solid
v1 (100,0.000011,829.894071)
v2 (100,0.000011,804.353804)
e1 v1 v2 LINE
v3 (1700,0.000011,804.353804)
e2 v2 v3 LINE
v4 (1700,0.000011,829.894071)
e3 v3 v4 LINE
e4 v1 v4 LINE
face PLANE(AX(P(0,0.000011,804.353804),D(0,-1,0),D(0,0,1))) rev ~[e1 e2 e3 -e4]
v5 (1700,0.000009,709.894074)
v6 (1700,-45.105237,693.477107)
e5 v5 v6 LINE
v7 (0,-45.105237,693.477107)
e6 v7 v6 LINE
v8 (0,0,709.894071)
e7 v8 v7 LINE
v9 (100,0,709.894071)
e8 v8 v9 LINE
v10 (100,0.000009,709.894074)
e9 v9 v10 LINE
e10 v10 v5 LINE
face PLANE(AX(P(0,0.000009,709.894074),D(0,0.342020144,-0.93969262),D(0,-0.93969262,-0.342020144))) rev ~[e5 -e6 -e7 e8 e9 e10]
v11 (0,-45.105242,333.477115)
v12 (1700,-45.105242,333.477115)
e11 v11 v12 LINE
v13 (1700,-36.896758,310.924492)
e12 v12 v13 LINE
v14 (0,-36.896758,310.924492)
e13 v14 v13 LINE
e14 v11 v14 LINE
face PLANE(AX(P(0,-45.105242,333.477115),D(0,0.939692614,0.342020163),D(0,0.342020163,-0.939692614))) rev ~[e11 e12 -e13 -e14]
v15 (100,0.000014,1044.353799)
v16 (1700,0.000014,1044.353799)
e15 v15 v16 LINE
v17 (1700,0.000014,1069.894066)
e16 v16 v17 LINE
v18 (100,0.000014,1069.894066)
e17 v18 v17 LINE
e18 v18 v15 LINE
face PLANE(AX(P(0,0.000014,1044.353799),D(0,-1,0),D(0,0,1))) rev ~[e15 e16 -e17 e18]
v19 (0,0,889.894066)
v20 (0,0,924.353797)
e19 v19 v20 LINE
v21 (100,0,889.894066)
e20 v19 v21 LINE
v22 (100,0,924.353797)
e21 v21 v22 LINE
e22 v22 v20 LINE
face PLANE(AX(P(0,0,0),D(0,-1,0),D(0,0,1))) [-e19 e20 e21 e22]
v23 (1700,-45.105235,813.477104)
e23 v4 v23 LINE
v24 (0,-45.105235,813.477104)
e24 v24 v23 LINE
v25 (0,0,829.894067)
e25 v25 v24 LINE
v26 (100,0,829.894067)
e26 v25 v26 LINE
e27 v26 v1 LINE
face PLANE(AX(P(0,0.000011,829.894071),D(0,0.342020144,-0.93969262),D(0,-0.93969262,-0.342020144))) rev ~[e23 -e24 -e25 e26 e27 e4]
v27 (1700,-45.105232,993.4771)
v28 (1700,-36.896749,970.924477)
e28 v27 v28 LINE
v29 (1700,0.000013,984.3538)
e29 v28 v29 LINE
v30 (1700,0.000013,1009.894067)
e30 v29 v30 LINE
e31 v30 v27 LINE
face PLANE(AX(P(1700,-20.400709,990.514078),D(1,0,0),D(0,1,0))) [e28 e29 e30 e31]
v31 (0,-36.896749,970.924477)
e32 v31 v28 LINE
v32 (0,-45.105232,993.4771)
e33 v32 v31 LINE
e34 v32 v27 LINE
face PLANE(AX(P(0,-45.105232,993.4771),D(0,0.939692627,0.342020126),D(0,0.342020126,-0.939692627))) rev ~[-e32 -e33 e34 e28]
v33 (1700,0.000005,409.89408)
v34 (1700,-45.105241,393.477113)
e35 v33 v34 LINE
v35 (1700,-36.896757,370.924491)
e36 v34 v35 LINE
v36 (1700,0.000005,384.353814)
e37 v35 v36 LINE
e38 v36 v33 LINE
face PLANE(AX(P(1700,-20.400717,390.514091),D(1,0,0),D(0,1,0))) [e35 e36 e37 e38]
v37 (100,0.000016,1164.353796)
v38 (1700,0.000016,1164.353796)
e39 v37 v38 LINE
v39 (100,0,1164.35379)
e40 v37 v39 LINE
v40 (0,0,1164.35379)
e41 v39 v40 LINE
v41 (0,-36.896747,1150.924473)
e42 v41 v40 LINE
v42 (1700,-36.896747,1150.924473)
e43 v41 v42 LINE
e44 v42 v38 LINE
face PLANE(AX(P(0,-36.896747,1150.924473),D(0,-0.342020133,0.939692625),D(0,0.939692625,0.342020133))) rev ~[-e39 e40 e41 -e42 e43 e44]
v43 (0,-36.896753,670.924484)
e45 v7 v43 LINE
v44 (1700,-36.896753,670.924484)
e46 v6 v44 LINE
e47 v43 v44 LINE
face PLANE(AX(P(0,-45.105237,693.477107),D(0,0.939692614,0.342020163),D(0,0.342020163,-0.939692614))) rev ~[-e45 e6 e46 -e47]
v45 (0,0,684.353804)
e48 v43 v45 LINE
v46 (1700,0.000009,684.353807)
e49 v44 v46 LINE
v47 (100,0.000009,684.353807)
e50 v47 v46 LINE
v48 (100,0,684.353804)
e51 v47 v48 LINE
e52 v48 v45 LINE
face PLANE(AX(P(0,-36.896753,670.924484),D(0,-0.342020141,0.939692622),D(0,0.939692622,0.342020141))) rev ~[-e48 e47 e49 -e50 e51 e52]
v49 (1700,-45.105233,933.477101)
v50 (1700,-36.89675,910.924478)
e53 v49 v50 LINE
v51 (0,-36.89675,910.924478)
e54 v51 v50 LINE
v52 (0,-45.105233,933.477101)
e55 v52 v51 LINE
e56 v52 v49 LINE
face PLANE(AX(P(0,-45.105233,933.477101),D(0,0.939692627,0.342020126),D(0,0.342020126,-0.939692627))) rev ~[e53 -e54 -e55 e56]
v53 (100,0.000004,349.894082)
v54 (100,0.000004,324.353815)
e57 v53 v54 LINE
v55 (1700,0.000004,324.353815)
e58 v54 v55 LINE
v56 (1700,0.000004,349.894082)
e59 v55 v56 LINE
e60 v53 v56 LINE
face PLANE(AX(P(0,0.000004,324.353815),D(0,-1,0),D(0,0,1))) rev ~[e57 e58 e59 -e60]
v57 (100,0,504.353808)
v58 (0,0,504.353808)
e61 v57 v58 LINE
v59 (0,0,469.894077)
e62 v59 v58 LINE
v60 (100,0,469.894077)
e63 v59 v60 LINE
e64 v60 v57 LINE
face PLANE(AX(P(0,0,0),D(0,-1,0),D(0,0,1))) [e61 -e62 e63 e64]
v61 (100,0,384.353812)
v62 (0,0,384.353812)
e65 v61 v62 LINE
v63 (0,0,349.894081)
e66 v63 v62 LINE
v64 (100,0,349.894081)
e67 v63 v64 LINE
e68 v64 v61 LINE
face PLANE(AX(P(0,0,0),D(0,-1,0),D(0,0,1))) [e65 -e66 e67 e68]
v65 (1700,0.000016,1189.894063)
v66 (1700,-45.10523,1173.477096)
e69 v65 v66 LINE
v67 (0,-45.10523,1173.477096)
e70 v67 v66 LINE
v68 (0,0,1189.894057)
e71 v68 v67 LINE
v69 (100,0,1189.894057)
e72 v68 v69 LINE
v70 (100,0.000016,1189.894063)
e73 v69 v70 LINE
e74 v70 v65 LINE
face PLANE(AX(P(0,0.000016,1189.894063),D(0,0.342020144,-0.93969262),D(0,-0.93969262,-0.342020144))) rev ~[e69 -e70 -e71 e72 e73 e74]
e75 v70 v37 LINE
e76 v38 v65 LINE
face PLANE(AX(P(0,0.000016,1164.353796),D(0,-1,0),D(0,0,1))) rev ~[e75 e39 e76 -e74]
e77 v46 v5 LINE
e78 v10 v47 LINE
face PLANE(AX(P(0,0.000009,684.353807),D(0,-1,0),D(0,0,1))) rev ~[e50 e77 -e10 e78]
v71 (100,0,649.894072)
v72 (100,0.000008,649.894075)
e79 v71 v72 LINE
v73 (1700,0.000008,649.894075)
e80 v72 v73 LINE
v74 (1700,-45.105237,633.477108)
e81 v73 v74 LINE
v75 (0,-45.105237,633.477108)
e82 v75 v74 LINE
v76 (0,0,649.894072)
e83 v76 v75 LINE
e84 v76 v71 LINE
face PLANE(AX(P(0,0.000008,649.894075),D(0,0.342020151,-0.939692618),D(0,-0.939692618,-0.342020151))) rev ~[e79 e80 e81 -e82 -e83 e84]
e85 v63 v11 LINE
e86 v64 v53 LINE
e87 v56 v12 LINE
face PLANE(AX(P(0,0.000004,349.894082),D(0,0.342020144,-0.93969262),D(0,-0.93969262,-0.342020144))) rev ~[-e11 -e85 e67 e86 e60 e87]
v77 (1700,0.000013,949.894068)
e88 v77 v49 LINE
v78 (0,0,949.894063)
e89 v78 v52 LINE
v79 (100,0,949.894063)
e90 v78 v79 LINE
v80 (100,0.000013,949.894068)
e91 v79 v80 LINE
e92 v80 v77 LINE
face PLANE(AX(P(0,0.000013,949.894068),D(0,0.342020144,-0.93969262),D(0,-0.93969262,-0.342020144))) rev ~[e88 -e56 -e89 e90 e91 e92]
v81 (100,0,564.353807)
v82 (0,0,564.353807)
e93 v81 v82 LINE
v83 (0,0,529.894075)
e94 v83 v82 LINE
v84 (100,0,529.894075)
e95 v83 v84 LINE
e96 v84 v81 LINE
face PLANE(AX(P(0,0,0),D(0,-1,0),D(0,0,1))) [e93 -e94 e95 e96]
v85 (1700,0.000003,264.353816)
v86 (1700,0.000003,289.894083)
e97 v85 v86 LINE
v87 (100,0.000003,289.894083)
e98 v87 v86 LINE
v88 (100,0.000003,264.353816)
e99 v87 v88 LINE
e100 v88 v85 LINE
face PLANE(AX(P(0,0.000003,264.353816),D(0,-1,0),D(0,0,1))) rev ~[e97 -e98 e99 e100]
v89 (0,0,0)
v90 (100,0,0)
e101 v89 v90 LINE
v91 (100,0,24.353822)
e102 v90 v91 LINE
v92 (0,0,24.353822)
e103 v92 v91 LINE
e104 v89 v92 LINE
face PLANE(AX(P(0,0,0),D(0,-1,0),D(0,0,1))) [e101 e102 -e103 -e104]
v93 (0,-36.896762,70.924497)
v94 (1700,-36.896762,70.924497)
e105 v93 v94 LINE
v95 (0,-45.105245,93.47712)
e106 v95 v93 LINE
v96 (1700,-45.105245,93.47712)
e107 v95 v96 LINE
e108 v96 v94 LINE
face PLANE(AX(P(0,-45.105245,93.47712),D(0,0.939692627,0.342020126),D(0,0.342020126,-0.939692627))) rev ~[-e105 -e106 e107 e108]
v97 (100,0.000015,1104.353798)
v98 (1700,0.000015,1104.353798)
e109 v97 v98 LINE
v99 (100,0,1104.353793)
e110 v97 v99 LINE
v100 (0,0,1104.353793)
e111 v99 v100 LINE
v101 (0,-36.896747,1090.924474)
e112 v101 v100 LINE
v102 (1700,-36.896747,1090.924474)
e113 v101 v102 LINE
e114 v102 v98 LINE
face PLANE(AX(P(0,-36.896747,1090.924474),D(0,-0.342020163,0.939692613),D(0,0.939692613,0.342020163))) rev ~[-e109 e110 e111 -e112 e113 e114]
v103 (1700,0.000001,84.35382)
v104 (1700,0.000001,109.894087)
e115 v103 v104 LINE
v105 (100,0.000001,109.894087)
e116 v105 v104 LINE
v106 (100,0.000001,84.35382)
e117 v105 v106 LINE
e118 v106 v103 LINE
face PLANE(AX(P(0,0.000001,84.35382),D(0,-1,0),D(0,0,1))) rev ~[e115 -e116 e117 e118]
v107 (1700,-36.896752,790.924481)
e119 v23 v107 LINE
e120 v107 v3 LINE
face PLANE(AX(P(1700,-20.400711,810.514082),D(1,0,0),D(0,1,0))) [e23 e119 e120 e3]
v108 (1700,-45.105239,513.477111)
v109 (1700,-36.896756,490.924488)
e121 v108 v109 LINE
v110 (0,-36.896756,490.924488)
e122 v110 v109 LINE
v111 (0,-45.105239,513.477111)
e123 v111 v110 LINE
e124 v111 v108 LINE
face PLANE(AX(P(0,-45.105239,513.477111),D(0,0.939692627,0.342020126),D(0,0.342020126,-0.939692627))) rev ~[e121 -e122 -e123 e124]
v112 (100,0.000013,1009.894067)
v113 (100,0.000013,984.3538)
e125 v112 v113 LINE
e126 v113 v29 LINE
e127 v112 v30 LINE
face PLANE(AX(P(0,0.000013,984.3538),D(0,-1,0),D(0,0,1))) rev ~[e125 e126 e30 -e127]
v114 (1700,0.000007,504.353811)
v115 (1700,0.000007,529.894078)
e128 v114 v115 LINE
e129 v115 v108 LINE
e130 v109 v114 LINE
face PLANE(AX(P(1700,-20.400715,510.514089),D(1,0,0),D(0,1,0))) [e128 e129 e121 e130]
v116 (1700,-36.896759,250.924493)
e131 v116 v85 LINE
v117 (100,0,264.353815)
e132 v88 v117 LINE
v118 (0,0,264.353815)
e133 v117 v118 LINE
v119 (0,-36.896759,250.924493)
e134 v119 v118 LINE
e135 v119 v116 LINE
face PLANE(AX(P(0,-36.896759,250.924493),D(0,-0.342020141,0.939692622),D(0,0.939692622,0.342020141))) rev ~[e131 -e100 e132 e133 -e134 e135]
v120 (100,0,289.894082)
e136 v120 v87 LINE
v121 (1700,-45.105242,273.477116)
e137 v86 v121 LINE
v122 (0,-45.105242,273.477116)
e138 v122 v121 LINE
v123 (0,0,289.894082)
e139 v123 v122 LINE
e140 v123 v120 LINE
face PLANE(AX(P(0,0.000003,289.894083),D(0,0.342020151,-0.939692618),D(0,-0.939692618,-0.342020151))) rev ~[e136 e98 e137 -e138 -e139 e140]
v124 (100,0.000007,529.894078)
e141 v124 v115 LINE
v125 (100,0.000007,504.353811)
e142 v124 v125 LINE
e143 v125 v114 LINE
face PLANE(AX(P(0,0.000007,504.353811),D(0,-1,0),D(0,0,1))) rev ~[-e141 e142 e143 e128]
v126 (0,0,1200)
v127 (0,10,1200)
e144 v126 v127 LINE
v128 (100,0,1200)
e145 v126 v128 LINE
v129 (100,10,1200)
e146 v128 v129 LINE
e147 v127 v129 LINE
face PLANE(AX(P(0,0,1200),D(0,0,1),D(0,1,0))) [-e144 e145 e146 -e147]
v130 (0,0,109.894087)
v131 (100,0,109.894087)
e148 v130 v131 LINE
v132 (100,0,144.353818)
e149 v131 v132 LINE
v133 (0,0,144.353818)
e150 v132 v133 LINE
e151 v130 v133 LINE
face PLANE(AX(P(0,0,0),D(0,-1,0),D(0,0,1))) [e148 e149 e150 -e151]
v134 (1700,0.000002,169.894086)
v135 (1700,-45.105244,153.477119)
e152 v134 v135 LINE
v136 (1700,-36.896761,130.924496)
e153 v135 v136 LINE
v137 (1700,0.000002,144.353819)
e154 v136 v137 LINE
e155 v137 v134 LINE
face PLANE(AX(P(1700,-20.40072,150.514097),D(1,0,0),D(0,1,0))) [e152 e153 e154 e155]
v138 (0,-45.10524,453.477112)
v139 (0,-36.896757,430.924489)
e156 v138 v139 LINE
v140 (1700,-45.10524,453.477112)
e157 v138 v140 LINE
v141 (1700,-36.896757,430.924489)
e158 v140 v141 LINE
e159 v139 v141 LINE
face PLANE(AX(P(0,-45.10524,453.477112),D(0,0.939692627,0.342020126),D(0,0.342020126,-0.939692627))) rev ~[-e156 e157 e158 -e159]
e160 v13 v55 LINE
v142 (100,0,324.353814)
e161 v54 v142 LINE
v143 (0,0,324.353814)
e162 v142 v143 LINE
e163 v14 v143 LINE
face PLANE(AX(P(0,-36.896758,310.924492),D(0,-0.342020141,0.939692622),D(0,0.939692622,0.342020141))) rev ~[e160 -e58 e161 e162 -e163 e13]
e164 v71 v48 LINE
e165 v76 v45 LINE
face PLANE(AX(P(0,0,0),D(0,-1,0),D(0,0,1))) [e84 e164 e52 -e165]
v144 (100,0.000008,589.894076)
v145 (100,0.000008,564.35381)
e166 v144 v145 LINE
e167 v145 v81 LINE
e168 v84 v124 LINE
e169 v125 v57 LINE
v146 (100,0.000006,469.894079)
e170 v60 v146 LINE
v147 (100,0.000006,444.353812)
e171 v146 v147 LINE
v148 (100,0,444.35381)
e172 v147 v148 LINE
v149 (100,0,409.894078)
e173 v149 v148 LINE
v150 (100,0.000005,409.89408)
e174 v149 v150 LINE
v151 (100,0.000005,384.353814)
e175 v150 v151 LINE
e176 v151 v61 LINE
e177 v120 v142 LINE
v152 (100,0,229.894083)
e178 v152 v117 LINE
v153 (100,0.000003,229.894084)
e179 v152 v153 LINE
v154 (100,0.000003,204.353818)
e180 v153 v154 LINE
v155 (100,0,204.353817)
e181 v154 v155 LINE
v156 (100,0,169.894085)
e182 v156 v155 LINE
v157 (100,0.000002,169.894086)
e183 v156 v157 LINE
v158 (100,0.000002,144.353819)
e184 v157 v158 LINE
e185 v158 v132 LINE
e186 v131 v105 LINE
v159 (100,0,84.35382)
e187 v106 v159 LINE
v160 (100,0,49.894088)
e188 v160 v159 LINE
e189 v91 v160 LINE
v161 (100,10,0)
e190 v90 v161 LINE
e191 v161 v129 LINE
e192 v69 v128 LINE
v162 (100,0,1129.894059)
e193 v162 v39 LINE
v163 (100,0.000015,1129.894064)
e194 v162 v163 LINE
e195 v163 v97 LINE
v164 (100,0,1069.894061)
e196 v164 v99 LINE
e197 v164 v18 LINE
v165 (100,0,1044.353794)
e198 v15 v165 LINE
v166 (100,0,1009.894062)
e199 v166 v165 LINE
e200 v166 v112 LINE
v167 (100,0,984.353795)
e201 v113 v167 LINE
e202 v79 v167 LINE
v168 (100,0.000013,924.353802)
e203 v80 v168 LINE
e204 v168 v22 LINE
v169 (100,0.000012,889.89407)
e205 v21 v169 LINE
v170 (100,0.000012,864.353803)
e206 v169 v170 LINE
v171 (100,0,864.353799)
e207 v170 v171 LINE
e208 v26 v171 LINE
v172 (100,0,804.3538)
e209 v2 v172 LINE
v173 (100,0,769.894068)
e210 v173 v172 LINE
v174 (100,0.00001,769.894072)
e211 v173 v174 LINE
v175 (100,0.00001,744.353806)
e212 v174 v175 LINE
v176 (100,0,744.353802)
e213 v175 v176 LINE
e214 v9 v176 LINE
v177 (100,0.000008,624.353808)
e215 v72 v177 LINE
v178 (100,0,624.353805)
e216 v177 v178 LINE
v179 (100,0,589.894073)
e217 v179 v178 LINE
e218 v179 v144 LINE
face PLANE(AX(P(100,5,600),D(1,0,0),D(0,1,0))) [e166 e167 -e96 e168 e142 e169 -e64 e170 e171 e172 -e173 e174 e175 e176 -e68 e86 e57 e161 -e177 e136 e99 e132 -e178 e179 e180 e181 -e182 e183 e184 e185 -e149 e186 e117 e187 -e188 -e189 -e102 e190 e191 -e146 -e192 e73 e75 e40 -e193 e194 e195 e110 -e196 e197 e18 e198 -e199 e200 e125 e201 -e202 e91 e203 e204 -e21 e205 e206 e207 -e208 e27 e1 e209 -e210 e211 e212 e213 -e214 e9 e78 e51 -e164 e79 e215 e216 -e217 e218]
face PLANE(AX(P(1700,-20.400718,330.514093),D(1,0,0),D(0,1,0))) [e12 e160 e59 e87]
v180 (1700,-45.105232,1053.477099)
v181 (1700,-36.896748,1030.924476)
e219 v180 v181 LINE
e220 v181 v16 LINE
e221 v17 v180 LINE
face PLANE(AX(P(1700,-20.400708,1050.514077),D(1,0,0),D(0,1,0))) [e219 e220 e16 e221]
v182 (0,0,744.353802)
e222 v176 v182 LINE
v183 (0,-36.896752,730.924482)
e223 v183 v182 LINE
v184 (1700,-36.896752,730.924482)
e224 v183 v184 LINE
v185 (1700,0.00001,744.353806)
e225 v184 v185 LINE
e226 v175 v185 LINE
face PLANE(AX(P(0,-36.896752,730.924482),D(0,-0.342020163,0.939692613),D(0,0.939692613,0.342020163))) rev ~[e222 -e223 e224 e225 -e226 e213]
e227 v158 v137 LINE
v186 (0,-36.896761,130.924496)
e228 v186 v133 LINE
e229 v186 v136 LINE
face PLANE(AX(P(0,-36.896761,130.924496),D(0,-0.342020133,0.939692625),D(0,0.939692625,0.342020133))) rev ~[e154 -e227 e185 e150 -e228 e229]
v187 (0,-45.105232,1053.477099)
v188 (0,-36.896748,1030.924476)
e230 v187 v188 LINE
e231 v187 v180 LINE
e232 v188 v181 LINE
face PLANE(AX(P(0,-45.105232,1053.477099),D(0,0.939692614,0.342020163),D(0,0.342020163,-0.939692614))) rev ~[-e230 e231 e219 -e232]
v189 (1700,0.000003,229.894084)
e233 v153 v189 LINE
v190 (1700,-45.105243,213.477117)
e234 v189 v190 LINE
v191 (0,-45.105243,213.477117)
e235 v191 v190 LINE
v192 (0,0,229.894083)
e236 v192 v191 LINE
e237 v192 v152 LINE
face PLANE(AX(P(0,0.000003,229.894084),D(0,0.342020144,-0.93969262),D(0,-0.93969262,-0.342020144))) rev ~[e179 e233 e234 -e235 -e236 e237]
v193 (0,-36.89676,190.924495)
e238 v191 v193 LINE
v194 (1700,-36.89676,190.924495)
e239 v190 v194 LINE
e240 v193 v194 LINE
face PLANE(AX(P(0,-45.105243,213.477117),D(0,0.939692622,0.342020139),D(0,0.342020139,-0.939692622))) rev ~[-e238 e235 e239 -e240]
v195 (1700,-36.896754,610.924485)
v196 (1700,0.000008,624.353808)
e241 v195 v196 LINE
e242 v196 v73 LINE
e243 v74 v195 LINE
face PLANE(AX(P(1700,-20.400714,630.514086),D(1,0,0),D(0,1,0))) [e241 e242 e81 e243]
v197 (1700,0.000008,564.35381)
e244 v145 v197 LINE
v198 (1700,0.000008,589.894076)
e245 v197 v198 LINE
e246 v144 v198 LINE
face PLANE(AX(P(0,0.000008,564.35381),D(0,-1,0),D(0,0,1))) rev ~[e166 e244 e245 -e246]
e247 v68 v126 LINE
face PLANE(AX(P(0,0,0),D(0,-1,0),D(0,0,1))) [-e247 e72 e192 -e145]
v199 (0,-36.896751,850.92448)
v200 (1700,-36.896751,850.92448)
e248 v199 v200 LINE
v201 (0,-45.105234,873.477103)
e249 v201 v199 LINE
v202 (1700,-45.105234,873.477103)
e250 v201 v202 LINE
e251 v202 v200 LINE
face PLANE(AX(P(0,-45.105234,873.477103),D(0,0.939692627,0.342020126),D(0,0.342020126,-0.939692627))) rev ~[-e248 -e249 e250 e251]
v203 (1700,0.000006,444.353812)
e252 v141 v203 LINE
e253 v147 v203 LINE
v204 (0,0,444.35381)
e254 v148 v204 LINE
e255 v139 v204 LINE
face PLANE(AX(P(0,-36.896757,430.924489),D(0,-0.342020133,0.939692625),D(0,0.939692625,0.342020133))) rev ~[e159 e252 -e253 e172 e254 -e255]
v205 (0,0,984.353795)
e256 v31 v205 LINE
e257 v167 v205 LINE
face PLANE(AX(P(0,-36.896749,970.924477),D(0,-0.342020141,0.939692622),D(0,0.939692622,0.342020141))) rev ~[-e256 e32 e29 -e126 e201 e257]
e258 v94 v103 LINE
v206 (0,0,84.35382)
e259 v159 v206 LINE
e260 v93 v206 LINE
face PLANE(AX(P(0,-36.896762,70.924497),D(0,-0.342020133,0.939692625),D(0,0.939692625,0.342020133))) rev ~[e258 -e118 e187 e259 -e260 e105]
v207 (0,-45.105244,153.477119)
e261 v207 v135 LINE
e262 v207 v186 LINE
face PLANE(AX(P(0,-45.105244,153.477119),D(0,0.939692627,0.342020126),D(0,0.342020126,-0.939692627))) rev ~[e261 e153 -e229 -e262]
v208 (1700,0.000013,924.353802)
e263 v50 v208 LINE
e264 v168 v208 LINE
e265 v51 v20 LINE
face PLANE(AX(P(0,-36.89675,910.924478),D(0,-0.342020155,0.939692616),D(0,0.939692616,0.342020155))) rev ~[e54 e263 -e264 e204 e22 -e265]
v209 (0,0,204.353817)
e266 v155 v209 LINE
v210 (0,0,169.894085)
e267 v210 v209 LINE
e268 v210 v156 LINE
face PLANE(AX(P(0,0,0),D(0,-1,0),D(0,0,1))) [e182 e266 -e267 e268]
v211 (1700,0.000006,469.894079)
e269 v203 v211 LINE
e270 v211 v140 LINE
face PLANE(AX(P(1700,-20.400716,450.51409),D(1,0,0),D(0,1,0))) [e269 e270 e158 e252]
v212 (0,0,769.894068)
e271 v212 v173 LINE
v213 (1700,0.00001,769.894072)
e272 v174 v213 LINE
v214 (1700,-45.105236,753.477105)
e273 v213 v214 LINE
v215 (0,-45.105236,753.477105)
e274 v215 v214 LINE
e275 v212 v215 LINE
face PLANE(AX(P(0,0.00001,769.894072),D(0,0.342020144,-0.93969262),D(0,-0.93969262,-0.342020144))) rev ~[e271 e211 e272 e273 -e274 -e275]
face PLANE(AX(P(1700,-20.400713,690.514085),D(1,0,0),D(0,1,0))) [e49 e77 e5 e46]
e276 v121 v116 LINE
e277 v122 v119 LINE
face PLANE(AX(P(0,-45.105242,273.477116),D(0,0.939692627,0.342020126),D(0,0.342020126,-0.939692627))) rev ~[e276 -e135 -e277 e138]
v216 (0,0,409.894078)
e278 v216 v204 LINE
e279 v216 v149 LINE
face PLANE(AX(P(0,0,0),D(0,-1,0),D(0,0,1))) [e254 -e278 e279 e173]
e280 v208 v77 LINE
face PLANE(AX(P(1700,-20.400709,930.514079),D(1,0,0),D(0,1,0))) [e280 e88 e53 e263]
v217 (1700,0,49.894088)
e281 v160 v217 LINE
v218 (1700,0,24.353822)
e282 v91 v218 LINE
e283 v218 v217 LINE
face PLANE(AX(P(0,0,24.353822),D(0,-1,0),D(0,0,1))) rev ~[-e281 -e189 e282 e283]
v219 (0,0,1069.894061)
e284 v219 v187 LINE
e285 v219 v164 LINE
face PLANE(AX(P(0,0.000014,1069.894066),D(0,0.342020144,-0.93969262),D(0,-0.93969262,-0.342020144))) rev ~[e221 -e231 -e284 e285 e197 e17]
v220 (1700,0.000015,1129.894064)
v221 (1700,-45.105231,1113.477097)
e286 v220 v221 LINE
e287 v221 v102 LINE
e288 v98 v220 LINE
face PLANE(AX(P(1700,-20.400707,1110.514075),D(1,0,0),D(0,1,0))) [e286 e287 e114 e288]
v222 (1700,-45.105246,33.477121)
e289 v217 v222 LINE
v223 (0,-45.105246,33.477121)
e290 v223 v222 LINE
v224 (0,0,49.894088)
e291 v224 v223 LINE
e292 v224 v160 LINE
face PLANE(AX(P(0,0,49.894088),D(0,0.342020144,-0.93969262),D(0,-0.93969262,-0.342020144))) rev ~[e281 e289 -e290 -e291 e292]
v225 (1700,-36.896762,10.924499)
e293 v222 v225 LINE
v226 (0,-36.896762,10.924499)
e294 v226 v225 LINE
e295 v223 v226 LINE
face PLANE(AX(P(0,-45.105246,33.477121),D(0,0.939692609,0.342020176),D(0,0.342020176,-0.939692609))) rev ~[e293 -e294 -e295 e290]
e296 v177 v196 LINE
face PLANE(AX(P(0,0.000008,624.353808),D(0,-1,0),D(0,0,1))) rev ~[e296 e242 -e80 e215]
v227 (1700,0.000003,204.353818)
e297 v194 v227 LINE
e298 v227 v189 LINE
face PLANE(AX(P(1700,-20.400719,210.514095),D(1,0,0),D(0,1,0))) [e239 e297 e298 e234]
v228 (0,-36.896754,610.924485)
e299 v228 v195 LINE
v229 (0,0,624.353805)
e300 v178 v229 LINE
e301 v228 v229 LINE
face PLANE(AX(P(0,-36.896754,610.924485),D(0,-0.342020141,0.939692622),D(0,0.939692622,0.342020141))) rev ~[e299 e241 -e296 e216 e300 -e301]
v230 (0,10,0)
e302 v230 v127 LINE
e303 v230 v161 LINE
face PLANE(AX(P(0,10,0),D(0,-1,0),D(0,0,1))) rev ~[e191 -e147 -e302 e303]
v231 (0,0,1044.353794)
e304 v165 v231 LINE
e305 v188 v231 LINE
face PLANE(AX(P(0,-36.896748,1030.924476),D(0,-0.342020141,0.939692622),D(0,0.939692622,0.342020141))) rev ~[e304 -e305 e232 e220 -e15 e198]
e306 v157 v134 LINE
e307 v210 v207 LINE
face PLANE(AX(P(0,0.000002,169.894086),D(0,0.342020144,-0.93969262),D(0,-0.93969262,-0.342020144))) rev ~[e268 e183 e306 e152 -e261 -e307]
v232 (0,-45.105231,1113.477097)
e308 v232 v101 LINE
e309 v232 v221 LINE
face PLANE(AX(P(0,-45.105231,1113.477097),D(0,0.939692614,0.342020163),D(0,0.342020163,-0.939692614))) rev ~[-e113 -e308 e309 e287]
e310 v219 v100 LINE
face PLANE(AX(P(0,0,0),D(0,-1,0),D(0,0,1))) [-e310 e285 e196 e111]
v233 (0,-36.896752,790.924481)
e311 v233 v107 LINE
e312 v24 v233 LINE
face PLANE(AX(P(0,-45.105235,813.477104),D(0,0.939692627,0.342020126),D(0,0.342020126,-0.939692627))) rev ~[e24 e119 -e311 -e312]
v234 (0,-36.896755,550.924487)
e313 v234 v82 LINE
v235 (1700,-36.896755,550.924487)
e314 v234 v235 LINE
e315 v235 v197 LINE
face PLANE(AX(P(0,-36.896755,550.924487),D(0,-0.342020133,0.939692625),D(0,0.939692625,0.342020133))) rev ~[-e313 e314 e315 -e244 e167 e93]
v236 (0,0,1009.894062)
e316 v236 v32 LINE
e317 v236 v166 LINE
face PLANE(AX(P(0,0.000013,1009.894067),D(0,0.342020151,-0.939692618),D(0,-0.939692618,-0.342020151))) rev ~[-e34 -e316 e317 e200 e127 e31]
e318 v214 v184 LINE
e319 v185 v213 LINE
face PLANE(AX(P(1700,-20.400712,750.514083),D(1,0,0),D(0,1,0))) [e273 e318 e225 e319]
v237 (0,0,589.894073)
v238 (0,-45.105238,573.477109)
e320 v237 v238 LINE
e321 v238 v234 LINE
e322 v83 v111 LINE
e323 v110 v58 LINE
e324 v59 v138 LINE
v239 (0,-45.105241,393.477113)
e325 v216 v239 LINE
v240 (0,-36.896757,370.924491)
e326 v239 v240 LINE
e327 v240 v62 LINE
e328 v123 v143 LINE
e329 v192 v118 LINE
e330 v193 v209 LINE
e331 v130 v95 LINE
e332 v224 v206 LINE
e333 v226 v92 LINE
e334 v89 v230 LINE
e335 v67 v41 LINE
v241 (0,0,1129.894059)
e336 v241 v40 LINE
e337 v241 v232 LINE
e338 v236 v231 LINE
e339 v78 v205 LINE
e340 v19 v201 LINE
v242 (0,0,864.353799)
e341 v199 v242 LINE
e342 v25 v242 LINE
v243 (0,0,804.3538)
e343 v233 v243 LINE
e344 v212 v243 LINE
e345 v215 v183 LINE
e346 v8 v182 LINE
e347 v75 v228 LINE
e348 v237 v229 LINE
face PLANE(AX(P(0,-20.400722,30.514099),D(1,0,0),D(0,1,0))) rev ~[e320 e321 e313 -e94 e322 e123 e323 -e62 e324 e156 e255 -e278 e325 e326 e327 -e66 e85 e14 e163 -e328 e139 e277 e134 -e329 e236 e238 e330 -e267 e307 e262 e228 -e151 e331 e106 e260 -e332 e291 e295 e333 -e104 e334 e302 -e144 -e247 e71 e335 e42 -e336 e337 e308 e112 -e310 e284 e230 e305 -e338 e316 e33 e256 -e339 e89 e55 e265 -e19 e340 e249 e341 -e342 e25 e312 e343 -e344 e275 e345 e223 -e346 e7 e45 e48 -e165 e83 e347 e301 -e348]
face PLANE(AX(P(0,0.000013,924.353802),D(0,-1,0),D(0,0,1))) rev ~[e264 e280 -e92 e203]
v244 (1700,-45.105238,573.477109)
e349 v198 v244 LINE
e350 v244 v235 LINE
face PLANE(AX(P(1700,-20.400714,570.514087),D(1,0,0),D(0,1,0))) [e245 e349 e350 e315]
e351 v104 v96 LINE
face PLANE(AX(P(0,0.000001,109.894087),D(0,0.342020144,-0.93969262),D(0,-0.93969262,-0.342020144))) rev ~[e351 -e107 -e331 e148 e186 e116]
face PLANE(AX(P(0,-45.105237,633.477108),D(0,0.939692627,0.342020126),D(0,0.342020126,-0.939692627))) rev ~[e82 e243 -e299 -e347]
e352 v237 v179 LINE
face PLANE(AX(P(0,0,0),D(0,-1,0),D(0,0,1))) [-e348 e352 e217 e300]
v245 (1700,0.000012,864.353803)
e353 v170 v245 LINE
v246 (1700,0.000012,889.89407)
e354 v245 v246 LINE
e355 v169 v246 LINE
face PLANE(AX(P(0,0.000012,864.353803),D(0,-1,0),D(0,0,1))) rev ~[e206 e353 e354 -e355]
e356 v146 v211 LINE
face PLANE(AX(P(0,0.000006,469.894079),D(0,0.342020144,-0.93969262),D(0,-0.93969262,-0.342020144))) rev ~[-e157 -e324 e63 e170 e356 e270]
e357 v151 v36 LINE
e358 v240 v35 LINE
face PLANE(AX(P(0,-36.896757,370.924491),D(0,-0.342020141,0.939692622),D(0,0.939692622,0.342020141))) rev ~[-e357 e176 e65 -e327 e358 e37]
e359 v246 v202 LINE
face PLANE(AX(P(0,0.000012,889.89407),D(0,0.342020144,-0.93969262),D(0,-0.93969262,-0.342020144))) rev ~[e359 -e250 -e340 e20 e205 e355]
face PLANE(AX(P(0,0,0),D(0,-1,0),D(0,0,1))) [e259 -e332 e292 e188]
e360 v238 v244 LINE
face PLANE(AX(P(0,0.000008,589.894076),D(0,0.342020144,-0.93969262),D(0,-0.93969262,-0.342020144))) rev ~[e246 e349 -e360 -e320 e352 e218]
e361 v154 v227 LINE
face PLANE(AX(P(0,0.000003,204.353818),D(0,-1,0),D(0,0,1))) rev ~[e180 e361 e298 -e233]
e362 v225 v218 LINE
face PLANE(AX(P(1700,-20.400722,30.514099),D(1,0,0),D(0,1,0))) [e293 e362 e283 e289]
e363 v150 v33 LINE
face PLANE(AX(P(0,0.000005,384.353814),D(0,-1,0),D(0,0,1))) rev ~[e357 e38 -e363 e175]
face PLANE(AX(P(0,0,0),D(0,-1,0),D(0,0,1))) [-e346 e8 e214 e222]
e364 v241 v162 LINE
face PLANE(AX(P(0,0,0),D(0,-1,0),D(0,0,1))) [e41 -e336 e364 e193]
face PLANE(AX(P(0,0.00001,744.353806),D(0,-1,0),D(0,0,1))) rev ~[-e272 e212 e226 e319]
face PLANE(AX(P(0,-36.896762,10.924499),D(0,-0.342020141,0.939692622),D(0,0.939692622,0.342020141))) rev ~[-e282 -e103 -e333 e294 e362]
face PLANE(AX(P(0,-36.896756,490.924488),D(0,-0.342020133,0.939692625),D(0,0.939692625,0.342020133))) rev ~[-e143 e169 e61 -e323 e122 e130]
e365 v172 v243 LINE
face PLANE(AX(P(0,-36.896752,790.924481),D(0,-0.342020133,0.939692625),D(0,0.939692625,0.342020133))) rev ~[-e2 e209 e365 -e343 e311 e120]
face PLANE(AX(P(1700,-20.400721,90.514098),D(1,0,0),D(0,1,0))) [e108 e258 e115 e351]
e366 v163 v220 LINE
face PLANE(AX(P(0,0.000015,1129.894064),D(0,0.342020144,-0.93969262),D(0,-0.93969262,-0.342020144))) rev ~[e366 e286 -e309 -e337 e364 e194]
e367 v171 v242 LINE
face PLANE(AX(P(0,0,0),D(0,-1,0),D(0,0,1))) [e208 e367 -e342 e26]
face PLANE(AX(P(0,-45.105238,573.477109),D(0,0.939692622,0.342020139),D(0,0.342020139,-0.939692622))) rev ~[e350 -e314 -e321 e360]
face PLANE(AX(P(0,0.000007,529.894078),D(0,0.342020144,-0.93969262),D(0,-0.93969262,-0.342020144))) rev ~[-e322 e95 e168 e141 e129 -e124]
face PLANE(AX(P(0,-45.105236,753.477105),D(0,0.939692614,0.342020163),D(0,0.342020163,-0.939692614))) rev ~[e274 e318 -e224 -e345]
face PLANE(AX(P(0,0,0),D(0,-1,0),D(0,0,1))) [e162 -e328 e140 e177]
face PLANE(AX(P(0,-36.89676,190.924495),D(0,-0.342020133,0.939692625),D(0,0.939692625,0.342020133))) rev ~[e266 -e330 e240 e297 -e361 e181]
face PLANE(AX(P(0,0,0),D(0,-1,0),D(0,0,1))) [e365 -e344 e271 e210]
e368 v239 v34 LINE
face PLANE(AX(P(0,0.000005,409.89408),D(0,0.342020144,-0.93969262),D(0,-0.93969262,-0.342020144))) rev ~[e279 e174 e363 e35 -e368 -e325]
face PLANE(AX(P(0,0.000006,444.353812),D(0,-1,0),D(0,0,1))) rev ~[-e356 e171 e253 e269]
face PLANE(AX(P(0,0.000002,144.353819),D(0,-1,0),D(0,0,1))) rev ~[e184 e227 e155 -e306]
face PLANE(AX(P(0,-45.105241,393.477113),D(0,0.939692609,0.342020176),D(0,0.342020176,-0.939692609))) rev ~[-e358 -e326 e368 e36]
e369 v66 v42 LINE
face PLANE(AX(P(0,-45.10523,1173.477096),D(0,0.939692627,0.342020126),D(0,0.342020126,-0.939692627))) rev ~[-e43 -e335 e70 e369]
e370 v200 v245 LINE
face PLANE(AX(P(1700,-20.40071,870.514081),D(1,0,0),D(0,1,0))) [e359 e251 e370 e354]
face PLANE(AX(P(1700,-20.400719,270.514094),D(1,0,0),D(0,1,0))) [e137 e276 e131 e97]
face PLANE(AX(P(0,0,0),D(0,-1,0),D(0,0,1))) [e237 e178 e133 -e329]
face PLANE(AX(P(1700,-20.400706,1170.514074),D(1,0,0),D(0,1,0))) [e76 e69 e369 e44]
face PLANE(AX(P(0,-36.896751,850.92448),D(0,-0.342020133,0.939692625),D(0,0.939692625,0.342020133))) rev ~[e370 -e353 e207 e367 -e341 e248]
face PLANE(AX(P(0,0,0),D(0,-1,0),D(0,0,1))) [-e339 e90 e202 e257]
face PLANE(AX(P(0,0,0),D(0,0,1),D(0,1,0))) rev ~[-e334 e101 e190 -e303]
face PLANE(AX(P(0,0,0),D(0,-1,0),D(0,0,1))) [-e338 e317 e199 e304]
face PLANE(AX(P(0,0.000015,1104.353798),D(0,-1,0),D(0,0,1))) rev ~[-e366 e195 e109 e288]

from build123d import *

# Parameters (mm, degrees)
F0_W     = 10
F0_H     = 1200
F1_DEPTH = 100
F3_DEPTH = 1700


with BuildPart() as f1:
    # F0 (on Right) → F1 (new body)
    with BuildSketch(Plane.YZ):
        with Locations((5, 600)):
            Rectangle(F0_W, F0_H)
    extrude(amount=F1_DEPTH)

    # F2 (on Right) → F3 (join)
    with BuildSketch(Plane.YZ):
        Polygon((0, 24.353822), (0, 49.894088), (-45.105246, 33.477121), (-36.896762, 10.924499), align=None)
        Polygon((-45.105245, 93.47712), (-36.896762, 70.924497), (1e-06, 84.35382), (1e-06, 109.894087), align=None)
        Polygon((-45.105244, 153.477119), (-36.896761, 130.924496), (2e-06, 144.353819), (2e-06, 169.894086), align=None)
        Polygon((-45.105243, 213.477117), (-36.89676, 190.924495), (3e-06, 204.353818), (3e-06, 229.894084), align=None)
        Polygon((-45.105242, 273.477116), (-36.896759, 250.924493), (3e-06, 264.353816), (3e-06, 289.894083), align=None)
        Polygon((-45.105241, 393.477113), (-36.896757, 370.924491), (5e-06, 384.353814), (5e-06, 409.89408), align=None)
        Polygon((-45.10524, 453.477112), (-36.896757, 430.924489), (6e-06, 444.353812), (6e-06, 469.894079), align=None)
        Polygon((-45.105242, 333.477115), (-36.896758, 310.924492), (4e-06, 324.353815), (4e-06, 349.894082), align=None)
        Polygon((-45.105239, 513.477111), (-36.896756, 490.924488), (7e-06, 504.353811), (7e-06, 529.894078), align=None)
        Polygon((-45.105237, 633.477108), (-36.896754, 610.924485), (8e-06, 624.353808), (8e-06, 649.894075), align=None)
        Polygon((-45.105238, 573.477109), (-36.896755, 550.924487), (8e-06, 564.35381), (8e-06, 589.894076), align=None)
        Polygon((-45.105237, 693.477107), (-36.896753, 670.924484), (9e-06, 684.353807), (9e-06, 709.894074), align=None)
        Polygon((-45.105236, 753.477105), (-36.896752, 730.924482), (1e-05, 744.353806), (1e-05, 769.894072), align=None)
        Polygon((-45.105233, 933.477101), (-36.89675, 910.924478), (1.3e-05, 924.353802), (1.3e-05, 949.894068), align=None)
        Polygon((-45.105235, 813.477104), (-36.896752, 790.924481), (1.1e-05, 804.353804), (1.1e-05, 829.894071), align=None)
        Polygon((-45.105234, 873.477103), (-36.896751, 850.92448), (1.2e-05, 864.353803), (1.2e-05, 889.89407), align=None)
        Polygon((-45.10523, 1173.477096), (-36.896747, 1150.924473), (1.6e-05, 1164.353796), (1.6e-05, 1189.894063), align=None)
        Polygon((-45.105231, 1113.477097), (-36.896747, 1090.924474), (1.5e-05, 1104.353798), (1.5e-05, 1129.894064), align=None)
        Polygon((-45.105232, 1053.477099), (-36.896748, 1030.924476), (1.4e-05, 1044.353799), (1.4e-05, 1069.894066), align=None)
        Polygon((-45.105232, 993.4771), (-36.896749, 970.924477), (1.3e-05, 984.3538), (1.3e-05, 1009.894067), align=None)
    extrude(amount=F3_DEPTH)


solid = f1.part
